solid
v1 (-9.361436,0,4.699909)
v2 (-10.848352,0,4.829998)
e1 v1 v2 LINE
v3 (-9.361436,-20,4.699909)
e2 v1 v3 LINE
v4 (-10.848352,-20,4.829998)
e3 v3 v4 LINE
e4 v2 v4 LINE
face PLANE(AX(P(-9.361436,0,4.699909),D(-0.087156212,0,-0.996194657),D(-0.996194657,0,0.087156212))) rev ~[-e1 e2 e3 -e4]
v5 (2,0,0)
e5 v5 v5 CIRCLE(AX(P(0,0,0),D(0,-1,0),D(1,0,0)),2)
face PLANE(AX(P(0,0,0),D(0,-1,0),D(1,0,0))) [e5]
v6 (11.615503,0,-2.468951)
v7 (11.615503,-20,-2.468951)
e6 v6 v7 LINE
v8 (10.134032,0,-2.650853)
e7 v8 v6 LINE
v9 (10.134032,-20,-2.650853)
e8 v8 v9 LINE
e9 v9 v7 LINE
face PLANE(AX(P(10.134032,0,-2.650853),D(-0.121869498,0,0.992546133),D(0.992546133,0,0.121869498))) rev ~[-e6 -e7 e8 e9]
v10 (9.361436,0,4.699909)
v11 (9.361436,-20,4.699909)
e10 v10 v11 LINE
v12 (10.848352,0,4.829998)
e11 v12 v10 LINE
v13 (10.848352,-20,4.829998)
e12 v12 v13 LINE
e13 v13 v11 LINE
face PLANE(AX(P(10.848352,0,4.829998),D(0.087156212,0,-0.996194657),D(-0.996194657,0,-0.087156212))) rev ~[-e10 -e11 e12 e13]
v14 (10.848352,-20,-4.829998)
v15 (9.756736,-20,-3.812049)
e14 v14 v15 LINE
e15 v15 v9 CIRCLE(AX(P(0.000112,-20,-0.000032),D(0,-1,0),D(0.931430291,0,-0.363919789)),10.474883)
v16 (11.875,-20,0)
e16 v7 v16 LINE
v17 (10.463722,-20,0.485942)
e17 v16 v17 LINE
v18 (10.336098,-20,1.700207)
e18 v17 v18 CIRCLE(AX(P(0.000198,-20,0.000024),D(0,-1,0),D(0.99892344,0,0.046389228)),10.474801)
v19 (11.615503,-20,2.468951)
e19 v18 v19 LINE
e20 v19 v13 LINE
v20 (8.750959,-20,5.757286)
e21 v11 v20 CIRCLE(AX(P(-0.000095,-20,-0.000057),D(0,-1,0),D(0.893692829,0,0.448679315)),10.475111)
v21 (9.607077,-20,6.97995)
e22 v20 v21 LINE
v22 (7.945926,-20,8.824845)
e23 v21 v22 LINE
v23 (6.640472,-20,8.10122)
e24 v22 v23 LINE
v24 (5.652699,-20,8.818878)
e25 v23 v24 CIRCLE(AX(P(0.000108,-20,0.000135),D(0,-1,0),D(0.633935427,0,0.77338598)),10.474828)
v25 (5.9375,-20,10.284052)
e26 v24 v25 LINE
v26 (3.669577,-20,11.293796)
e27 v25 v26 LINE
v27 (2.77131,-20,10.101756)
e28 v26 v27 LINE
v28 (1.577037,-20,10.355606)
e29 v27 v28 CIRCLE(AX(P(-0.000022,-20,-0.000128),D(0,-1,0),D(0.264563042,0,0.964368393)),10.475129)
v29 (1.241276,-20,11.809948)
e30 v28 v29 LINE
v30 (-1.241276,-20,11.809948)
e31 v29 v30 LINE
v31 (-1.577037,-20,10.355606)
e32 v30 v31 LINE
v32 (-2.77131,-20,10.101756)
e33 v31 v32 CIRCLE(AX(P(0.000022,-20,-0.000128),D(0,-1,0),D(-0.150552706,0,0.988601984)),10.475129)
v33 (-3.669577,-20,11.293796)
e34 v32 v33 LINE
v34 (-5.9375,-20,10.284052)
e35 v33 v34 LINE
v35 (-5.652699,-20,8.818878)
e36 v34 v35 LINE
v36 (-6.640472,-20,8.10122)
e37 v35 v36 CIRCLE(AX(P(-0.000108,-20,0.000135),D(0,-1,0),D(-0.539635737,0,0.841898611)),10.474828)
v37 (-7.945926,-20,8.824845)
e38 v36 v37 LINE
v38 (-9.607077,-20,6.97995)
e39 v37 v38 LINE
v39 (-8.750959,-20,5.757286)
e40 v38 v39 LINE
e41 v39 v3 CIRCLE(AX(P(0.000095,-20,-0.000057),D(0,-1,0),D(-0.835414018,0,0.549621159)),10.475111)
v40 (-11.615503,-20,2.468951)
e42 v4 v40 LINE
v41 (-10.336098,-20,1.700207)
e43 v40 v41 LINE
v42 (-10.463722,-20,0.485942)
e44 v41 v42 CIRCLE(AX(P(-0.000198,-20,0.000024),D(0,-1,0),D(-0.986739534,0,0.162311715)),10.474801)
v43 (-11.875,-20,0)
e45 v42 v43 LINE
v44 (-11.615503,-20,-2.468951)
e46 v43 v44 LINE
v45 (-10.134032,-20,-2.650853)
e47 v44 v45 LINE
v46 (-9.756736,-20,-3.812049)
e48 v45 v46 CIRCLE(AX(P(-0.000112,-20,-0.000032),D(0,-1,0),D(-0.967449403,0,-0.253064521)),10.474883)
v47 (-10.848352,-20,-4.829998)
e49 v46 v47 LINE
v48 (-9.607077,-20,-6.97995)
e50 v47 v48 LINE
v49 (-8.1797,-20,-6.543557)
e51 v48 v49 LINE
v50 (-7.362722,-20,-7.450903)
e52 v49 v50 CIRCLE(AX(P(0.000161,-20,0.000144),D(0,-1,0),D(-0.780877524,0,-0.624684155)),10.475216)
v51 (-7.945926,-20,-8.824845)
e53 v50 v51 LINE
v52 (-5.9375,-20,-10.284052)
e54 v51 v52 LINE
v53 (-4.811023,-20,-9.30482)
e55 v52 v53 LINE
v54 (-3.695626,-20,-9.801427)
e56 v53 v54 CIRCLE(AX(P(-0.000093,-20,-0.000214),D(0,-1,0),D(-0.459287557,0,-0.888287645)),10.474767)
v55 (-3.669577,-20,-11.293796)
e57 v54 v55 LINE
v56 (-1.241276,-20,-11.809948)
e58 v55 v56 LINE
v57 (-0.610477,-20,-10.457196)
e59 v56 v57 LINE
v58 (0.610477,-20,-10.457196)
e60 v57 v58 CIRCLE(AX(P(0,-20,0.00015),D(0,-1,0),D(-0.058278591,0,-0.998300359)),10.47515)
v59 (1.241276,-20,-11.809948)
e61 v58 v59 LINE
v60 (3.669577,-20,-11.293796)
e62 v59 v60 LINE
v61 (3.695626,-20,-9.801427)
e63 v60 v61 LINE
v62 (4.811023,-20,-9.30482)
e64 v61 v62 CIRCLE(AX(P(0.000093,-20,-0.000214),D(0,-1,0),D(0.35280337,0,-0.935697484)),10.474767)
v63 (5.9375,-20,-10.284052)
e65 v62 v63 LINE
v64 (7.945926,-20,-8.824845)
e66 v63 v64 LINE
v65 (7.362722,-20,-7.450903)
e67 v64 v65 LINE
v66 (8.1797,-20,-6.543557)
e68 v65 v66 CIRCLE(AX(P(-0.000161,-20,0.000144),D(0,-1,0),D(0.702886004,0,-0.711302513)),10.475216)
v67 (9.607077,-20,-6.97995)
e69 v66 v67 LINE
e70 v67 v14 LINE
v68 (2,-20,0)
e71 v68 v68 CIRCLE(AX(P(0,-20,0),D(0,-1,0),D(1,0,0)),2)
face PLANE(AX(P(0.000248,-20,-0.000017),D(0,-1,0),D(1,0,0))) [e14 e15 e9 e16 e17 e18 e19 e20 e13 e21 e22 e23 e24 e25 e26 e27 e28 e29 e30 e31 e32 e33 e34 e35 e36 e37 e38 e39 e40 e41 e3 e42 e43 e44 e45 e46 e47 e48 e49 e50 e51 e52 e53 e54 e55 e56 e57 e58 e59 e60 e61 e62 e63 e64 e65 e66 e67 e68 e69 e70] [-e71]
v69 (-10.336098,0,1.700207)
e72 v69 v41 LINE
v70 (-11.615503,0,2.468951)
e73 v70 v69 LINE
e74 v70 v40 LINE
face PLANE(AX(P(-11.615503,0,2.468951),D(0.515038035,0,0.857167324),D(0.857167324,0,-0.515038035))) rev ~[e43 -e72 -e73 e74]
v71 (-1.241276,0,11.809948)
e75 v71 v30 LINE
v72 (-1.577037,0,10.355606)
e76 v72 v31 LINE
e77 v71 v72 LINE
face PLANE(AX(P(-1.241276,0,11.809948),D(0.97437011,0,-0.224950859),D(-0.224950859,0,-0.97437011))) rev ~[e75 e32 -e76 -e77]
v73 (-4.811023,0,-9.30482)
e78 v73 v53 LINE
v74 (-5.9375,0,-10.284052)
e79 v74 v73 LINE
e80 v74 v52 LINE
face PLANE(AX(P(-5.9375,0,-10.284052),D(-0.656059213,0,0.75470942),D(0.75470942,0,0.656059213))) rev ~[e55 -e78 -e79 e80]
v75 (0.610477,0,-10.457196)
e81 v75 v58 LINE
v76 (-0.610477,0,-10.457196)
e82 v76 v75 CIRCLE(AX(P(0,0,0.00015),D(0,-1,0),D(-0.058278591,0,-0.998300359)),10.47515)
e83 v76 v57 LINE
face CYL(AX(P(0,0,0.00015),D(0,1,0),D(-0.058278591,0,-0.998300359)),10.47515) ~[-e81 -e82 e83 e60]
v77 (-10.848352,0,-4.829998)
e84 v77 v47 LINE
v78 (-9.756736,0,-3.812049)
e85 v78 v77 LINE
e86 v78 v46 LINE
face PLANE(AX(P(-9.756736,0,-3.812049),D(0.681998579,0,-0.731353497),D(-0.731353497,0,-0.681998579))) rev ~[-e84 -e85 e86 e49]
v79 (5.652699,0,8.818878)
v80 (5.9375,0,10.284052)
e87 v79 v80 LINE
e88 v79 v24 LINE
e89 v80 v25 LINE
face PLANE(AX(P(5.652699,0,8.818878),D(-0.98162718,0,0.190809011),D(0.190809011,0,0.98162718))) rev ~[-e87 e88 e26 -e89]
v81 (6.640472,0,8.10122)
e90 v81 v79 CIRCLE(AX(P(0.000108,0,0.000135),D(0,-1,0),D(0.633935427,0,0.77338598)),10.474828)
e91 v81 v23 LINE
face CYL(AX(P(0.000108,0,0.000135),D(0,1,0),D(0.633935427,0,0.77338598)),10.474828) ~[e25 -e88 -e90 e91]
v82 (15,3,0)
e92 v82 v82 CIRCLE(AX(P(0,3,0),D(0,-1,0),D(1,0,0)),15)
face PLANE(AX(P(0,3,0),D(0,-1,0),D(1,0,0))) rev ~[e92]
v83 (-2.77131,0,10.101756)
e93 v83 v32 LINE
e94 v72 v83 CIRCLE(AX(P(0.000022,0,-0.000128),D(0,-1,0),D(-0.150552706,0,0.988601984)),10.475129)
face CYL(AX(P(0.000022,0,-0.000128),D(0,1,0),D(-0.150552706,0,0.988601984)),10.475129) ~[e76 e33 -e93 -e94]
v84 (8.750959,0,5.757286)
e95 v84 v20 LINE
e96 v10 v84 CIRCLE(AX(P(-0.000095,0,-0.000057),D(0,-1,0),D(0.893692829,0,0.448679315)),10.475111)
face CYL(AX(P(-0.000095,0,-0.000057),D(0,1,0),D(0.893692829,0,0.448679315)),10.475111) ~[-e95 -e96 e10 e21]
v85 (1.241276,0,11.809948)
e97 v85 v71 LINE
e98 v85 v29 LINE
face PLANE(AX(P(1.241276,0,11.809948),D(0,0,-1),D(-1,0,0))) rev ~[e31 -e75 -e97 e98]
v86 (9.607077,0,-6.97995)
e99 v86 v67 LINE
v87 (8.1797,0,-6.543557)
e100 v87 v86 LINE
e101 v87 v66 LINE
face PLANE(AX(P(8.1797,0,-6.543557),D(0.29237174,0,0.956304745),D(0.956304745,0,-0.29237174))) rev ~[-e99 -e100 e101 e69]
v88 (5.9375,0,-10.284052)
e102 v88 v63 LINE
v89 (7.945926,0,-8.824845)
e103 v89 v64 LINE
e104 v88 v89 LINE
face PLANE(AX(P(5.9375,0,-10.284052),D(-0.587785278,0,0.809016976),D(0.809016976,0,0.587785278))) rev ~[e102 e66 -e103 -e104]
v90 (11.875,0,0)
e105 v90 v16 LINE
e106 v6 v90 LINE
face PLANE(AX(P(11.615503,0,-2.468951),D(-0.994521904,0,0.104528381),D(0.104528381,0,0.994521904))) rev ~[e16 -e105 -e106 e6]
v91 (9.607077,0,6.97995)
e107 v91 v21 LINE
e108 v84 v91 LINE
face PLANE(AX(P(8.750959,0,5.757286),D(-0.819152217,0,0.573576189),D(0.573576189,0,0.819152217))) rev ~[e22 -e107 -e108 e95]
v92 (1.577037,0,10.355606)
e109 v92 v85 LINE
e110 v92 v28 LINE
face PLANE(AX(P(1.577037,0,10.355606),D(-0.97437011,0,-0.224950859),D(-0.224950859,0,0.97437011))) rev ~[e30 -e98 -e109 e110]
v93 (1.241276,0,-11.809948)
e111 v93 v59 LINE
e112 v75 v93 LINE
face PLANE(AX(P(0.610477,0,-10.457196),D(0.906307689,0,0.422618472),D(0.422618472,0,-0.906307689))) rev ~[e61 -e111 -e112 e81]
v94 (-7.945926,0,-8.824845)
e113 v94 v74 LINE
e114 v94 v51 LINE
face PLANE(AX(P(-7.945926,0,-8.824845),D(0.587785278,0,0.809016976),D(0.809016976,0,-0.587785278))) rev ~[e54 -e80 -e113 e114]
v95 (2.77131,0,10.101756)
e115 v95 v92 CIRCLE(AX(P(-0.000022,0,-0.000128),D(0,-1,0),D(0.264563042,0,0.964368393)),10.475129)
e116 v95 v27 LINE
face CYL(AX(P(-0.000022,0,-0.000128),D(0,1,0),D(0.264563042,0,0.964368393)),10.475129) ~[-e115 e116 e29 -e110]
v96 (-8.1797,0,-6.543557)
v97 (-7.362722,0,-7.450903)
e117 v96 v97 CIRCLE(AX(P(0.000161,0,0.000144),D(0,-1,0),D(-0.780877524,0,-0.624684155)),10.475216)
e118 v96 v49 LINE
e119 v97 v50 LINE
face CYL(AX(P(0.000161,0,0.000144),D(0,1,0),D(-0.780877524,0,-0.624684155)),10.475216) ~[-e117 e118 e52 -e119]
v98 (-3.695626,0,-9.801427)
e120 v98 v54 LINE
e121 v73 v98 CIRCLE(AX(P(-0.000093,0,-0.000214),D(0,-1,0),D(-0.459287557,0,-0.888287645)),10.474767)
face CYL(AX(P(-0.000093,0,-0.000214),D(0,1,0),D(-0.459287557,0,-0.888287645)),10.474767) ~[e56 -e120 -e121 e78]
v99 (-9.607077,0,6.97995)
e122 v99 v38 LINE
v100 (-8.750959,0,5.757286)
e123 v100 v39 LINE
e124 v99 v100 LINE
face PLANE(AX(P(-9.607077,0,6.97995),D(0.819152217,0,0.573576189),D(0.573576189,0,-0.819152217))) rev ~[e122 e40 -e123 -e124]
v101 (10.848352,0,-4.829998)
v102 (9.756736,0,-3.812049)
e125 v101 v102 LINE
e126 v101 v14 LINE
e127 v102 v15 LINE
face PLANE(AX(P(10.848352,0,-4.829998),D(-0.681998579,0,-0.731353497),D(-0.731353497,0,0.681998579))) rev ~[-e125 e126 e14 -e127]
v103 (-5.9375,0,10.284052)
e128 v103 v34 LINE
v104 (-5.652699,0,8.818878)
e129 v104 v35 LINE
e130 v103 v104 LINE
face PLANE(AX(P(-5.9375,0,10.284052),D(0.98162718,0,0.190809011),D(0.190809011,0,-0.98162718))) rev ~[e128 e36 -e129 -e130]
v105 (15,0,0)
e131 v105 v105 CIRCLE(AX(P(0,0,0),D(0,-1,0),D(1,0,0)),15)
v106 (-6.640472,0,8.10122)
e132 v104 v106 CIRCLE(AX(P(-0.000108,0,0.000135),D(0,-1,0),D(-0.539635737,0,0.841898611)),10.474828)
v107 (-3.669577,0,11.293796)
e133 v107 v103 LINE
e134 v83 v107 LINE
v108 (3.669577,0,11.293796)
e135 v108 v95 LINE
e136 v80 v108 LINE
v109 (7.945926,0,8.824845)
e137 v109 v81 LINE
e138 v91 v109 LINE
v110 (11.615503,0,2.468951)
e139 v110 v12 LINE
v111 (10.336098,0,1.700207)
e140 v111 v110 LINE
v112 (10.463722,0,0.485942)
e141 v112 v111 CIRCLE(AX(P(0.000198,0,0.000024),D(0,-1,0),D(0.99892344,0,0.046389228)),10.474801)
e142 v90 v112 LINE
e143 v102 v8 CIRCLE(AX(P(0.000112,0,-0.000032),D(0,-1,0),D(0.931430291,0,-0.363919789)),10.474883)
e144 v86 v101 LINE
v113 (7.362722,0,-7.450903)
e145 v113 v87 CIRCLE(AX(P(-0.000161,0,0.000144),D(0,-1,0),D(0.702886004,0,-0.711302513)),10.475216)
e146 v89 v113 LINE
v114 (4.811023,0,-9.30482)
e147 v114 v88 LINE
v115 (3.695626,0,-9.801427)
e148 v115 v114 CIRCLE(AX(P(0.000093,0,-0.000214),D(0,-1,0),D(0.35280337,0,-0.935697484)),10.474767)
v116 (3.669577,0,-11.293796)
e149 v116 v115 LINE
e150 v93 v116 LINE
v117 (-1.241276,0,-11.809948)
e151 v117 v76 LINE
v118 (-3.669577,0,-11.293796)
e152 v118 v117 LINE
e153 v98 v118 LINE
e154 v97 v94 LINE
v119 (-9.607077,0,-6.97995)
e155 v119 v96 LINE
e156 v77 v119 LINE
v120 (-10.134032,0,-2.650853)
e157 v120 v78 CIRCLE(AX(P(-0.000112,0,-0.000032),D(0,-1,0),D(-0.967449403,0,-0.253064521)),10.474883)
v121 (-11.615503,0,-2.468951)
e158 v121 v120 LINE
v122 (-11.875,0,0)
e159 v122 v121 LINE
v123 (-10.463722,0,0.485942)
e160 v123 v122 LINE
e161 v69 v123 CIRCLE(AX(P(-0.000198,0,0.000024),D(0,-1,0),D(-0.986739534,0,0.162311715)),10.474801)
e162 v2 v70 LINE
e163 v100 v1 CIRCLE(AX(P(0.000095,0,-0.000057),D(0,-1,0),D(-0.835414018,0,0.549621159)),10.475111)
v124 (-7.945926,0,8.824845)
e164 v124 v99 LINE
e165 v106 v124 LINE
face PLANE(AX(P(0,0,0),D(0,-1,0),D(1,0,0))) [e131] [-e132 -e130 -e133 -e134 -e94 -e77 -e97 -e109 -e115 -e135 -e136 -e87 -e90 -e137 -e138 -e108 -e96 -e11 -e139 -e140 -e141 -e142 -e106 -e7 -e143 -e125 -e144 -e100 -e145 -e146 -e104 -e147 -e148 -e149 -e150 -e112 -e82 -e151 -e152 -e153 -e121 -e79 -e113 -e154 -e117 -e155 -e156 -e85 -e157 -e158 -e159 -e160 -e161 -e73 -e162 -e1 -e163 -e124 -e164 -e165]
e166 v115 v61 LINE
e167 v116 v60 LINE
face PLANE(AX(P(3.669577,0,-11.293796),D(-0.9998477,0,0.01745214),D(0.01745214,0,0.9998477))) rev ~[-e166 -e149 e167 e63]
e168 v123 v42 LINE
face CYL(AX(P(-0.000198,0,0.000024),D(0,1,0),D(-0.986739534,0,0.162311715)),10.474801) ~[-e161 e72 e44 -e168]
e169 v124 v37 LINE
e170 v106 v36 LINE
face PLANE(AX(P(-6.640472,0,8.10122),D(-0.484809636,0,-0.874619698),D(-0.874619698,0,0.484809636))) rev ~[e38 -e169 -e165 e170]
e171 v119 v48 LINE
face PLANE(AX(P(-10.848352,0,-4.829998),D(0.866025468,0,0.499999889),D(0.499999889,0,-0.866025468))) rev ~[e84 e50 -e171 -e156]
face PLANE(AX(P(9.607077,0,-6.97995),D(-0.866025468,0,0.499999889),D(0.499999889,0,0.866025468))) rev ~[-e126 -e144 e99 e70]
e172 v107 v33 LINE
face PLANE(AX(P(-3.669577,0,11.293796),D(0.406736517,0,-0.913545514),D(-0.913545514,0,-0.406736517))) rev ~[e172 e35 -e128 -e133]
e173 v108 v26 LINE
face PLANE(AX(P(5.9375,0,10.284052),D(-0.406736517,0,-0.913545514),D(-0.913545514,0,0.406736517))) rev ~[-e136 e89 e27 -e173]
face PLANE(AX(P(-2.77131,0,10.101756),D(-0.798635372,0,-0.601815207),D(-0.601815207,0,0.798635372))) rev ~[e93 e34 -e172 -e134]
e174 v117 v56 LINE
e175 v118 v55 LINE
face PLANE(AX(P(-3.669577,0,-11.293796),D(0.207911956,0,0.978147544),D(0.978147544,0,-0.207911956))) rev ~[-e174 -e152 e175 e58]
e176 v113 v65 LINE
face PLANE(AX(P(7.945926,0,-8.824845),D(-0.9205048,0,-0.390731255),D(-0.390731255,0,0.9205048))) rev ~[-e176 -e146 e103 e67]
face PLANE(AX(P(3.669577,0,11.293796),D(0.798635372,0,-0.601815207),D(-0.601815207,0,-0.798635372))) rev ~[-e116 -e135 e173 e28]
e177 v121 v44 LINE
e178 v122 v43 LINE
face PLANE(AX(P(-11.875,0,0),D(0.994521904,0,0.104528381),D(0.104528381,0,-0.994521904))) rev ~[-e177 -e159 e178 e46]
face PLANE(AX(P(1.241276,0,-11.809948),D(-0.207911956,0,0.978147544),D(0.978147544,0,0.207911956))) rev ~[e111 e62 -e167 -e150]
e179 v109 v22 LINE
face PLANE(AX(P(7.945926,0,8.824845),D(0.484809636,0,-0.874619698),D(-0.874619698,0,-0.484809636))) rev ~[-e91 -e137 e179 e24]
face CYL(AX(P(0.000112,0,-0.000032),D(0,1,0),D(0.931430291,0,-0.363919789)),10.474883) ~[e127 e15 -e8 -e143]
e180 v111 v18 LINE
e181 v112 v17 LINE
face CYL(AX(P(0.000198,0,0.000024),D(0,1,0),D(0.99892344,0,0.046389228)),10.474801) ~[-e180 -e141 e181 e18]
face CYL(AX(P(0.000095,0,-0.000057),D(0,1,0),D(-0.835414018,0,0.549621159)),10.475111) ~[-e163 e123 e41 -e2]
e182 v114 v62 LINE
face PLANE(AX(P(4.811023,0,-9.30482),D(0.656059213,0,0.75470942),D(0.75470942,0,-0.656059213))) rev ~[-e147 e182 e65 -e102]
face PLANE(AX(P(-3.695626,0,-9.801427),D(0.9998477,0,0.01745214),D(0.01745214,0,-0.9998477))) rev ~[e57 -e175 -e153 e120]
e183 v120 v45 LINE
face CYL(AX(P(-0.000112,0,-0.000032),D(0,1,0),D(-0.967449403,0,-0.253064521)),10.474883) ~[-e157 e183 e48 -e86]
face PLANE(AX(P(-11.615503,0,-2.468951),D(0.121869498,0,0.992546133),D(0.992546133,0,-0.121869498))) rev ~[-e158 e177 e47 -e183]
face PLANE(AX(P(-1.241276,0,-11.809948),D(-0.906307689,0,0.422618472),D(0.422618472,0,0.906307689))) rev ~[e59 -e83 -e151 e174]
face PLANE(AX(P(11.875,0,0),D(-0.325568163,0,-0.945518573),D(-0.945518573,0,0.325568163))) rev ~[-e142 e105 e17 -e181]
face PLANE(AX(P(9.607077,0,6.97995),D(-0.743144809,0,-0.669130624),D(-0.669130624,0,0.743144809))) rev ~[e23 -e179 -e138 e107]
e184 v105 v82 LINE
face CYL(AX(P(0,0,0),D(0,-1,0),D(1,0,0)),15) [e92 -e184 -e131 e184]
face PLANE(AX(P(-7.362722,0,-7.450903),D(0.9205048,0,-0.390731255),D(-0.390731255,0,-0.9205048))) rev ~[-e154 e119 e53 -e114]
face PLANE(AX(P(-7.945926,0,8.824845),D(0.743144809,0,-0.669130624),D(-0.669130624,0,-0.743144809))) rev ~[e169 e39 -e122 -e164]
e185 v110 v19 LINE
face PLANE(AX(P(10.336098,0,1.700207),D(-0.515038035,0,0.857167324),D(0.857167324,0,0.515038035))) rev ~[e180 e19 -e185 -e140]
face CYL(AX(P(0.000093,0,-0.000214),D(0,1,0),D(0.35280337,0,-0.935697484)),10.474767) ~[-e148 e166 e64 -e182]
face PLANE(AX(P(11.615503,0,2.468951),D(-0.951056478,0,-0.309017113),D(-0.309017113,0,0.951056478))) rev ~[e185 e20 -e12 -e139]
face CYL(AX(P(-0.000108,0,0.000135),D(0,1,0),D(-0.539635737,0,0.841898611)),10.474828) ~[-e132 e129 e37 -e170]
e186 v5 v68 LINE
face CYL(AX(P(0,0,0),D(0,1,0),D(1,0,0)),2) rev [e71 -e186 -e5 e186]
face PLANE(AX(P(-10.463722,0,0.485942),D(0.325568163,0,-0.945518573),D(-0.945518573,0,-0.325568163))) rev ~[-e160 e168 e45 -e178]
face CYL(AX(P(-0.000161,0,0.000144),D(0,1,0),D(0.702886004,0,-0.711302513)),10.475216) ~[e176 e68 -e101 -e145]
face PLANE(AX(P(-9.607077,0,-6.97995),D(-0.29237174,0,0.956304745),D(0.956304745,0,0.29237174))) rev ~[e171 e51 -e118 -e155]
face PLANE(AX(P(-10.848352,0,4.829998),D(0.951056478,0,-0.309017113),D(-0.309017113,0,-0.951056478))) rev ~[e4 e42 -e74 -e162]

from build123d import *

# Parameters (mm, degrees)
F0_R     = 2
F1_DEPTH = 20
F2_R     = 15
F3_DEPTH = 3


with BuildPart() as f1:
    # F0 (on Front) → F1 (new body)
    with BuildSketch(Plane.XZ):
        with BuildLine():
            ThreePointArc((10.134032, -2.650853), (10.389408, -1.336346), (10.475, 0))
            ThreePointArc((10.475, 0), (10.47218, 0.243036), (10.463722, 0.485942))
            ThreePointArc((10.463722, 0.485942), (10.417617, 1.094936), (10.336098, 1.700207))
            ThreePointArc((10.336098, 1.700207), (9.962317, 3.236953), (9.361436, 4.699909))
            ThreePointArc((9.361436, 4.699909), (9.071616, 5.2375), (8.750959, 5.757286))
            ThreePointArc((8.750959, 5.757286), (7.784442, 7.009143), (6.640472, 8.10122))
            ThreePointArc((6.640472, 8.10122), (6.157051, 8.474453), (5.652699, 8.818878))
            ThreePointArc((5.652699, 8.818878), (4.260566, 9.569389), (2.77131, 10.101756))
            ThreePointArc((2.77131, 10.101756), (2.177875, 10.246096), (1.577037, 10.355606))
            ThreePointArc((1.577037, 10.355606), (0, 10.475), (-1.577037, 10.355606))
            ThreePointArc((-1.577037, 10.355606), (-2.177875, 10.246096), (-2.77131, 10.101756))
            ThreePointArc((-2.77131, 10.101756), (-4.260566, 9.569389), (-5.652699, 8.818878))
            ThreePointArc((-5.652699, 8.818878), (-6.157051, 8.474453), (-6.640472, 8.10122))
            ThreePointArc((-6.640472, 8.10122), (-7.784442, 7.009143), (-8.750959, 5.757286))
            ThreePointArc((-8.750959, 5.757286), (-9.071616, 5.2375), (-9.361436, 4.699909))
            ThreePointArc((-9.361436, 4.699909), (-9.962317, 3.236953), (-10.336098, 1.700207))
            ThreePointArc((-10.336098, 1.700207), (-10.417617, 1.094936), (-10.463722, 0.485942))
            ThreePointArc((-10.463722, 0.485942), (-10.417617, -1.094936), (-10.134032, -2.650853))
            ThreePointArc((-10.134032, -2.650853), (-9.962317, -3.236953), (-9.756736, -3.812049))
            ThreePointArc((-9.756736, -3.812049), (-9.071616, -5.2375), (-8.1797, -6.543557))
            ThreePointArc((-8.1797, -6.543557), (-7.784442, -7.009143), (-7.362722, -7.450903))
            ThreePointArc((-7.362722, -7.450903), (-6.157051, -8.474453), (-4.811023, -9.30482))
            ThreePointArc((-4.811023, -9.30482), (-4.260566, -9.569389), (-3.695626, -9.801427))
            ThreePointArc((-3.695626, -9.801427), (-2.177875, -10.246096), (-0.610477, -10.457196))
            ThreePointArc((-0.610477, -10.457196), (0, -10.475), (0.610477, -10.457196))
            ThreePointArc((0.610477, -10.457196), (2.177875, -10.246096), (3.695626, -9.801427))
            ThreePointArc((3.695626, -9.801427), (4.260566, -9.569389), (4.811023, -9.30482))
            ThreePointArc((4.811023, -9.30482), (6.157051, -8.474453), (7.362722, -7.450903))
            ThreePointArc((7.362722, -7.450903), (7.784442, -7.009143), (8.1797, -6.543557))
            ThreePointArc((8.1797, -6.543557), (9.071616, -5.2375), (9.756736, -3.812049))
            ThreePointArc((9.756736, -3.812049), (9.962317, -3.236953), (10.134032, -2.650853))
        make_face()
        Circle(F0_R, mode=Mode.SUBTRACT)
        with BuildLine():
            ThreePointArc((10.463722, 0.485942), (10.47218, 0.243036), (10.475, 0))
            ThreePointArc((10.475, 0), (10.389408, -1.336346), (10.134032, -2.650853))
            Line((10.134032, -2.650853), (11.615503, -2.468951))
            Line((11.615503, -2.468951), (11.875, 0))
            Line((11.875, 0), (10.463722, 0.485942))
        make_face()
        with BuildLine():
            ThreePointArc((9.361436, 4.699909), (9.962317, 3.236953), (10.336098, 1.700207))
            Line((10.336098, 1.700207), (11.615503, 2.468951))
            Line((11.615503, 2.468951), (10.848352, 4.829998))
            Line((10.848352, 4.829998), (9.361436, 4.699909))
        make_face()
        with BuildLine():
            Line((10.848352, -4.829998), (9.756736, -3.812049))
            ThreePointArc((9.756736, -3.812049), (9.071616, -5.2375), (8.1797, -6.543557))
            Line((8.1797, -6.543557), (9.607077, -6.97995))
            Line((9.607077, -6.97995), (10.848352, -4.829998))
        make_face()
        with BuildLine():
            ThreePointArc((6.640472, 8.10122), (7.784442, 7.009143), (8.750959, 5.757286))
            Line((8.750959, 5.757286), (9.607077, 6.97995))
            Line((9.607077, 6.97995), (7.945926, 8.824845))
            Line((7.945926, 8.824845), (6.640472, 8.10122))
        make_face()
        with BuildLine():
            Line((7.945926, -8.824845), (7.362722, -7.450903))
            ThreePointArc((7.362722, -7.450903), (6.157051, -8.474453), (4.811023, -9.30482))
            Line((4.811023, -9.30482), (5.9375, -10.284052))
            Line((5.9375, -10.284052), (7.945926, -8.824845))
        make_face()
        with BuildLine():
            ThreePointArc((2.77131, 10.101756), (4.260566, 9.569389), (5.652699, 8.818878))
            Line((5.652699, 8.818878), (5.9375, 10.284052))
            Line((5.9375, 10.284052), (3.669577, 11.293796))
            Line((3.669577, 11.293796), (2.77131, 10.101756))
        make_face()
        with BuildLine():
            Line((3.669577, -11.293796), (3.695626, -9.801427))
            ThreePointArc((3.695626, -9.801427), (2.177875, -10.246096), (0.610477, -10.457196))
            Line((0.610477, -10.457196), (1.241276, -11.809948))
            Line((1.241276, -11.809948), (3.669577, -11.293796))
        make_face()
        with BuildLine():
            ThreePointArc((-1.577037, 10.355606), (0, 10.475), (1.577037, 10.355606))
            Line((1.577037, 10.355606), (1.241276, 11.809948))
            Line((1.241276, 11.809948), (-1.241276, 11.809948))
            Line((-1.241276, 11.809948), (-1.577037, 10.355606))
        make_face()
        with BuildLine():
            Line((-1.241276, -11.809948), (-0.610477, -10.457196))
            ThreePointArc((-0.610477, -10.457196), (-2.177875, -10.246096), (-3.695626, -9.801427))
            Line((-3.695626, -9.801427), (-3.669577, -11.293796))
            Line((-3.669577, -11.293796), (-1.241276, -11.809948))
        make_face()
        with BuildLine():
            ThreePointArc((-5.652699, 8.818878), (-4.260566, 9.569389), (-2.77131, 10.101756))
            Line((-2.77131, 10.101756), (-3.669577, 11.293796))
            Line((-3.669577, 11.293796), (-5.9375, 10.284052))
            Line((-5.9375, 10.284052), (-5.652699, 8.818878))
        make_face()
        with BuildLine():
            Line((-5.9375, -10.284052), (-4.811023, -9.30482))
            ThreePointArc((-4.811023, -9.30482), (-6.157051, -8.474453), (-7.362722, -7.450903))
            Line((-7.362722, -7.450903), (-7.945926, -8.824845))
            Line((-7.945926, -8.824845), (-5.9375, -10.284052))
        make_face()
        with BuildLine():
            ThreePointArc((-8.750959, 5.757286), (-7.784442, 7.009143), (-6.640472, 8.10122))
            Line((-6.640472, 8.10122), (-7.945926, 8.824845))
            Line((-7.945926, 8.824845), (-9.607077, 6.97995))
            Line((-9.607077, 6.97995), (-8.750959, 5.757286))
        make_face()
        with BuildLine():
            Line((-9.607077, -6.97995), (-8.1797, -6.543557))
            ThreePointArc((-8.1797, -6.543557), (-9.071616, -5.2375), (-9.756736, -3.812049))
            Line((-9.756736, -3.812049), (-10.848352, -4.829998))
            Line((-10.848352, -4.829998), (-9.607077, -6.97995))
        make_face()
        with BuildLine():
            ThreePointArc((-10.336098, 1.700207), (-9.962317, 3.236953), (-9.361436, 4.699909))
            Line((-9.361436, 4.699909), (-10.848352, 4.829998))
            Line((-10.848352, 4.829998), (-11.615503, 2.468951))
            Line((-11.615503, 2.468951), (-10.336098, 1.700207))
        make_face()
        with BuildLine():
            Line((-11.615503, -2.468951), (-10.134032, -2.650853))
            ThreePointArc((-10.134032, -2.650853), (-10.417617, -1.094936), (-10.463722, 0.485942))
            Line((-10.463722, 0.485942), (-11.875, 0))
            Line((-11.875, 0), (-11.615503, -2.468951))
        make_face()
    extrude(amount=F1_DEPTH)

    # F2 (on Front) → F3 (join)
    with BuildSketch(Plane.XZ):
        Circle(F2_R)
    extrude(amount=-F3_DEPTH)


solid = f1.part
